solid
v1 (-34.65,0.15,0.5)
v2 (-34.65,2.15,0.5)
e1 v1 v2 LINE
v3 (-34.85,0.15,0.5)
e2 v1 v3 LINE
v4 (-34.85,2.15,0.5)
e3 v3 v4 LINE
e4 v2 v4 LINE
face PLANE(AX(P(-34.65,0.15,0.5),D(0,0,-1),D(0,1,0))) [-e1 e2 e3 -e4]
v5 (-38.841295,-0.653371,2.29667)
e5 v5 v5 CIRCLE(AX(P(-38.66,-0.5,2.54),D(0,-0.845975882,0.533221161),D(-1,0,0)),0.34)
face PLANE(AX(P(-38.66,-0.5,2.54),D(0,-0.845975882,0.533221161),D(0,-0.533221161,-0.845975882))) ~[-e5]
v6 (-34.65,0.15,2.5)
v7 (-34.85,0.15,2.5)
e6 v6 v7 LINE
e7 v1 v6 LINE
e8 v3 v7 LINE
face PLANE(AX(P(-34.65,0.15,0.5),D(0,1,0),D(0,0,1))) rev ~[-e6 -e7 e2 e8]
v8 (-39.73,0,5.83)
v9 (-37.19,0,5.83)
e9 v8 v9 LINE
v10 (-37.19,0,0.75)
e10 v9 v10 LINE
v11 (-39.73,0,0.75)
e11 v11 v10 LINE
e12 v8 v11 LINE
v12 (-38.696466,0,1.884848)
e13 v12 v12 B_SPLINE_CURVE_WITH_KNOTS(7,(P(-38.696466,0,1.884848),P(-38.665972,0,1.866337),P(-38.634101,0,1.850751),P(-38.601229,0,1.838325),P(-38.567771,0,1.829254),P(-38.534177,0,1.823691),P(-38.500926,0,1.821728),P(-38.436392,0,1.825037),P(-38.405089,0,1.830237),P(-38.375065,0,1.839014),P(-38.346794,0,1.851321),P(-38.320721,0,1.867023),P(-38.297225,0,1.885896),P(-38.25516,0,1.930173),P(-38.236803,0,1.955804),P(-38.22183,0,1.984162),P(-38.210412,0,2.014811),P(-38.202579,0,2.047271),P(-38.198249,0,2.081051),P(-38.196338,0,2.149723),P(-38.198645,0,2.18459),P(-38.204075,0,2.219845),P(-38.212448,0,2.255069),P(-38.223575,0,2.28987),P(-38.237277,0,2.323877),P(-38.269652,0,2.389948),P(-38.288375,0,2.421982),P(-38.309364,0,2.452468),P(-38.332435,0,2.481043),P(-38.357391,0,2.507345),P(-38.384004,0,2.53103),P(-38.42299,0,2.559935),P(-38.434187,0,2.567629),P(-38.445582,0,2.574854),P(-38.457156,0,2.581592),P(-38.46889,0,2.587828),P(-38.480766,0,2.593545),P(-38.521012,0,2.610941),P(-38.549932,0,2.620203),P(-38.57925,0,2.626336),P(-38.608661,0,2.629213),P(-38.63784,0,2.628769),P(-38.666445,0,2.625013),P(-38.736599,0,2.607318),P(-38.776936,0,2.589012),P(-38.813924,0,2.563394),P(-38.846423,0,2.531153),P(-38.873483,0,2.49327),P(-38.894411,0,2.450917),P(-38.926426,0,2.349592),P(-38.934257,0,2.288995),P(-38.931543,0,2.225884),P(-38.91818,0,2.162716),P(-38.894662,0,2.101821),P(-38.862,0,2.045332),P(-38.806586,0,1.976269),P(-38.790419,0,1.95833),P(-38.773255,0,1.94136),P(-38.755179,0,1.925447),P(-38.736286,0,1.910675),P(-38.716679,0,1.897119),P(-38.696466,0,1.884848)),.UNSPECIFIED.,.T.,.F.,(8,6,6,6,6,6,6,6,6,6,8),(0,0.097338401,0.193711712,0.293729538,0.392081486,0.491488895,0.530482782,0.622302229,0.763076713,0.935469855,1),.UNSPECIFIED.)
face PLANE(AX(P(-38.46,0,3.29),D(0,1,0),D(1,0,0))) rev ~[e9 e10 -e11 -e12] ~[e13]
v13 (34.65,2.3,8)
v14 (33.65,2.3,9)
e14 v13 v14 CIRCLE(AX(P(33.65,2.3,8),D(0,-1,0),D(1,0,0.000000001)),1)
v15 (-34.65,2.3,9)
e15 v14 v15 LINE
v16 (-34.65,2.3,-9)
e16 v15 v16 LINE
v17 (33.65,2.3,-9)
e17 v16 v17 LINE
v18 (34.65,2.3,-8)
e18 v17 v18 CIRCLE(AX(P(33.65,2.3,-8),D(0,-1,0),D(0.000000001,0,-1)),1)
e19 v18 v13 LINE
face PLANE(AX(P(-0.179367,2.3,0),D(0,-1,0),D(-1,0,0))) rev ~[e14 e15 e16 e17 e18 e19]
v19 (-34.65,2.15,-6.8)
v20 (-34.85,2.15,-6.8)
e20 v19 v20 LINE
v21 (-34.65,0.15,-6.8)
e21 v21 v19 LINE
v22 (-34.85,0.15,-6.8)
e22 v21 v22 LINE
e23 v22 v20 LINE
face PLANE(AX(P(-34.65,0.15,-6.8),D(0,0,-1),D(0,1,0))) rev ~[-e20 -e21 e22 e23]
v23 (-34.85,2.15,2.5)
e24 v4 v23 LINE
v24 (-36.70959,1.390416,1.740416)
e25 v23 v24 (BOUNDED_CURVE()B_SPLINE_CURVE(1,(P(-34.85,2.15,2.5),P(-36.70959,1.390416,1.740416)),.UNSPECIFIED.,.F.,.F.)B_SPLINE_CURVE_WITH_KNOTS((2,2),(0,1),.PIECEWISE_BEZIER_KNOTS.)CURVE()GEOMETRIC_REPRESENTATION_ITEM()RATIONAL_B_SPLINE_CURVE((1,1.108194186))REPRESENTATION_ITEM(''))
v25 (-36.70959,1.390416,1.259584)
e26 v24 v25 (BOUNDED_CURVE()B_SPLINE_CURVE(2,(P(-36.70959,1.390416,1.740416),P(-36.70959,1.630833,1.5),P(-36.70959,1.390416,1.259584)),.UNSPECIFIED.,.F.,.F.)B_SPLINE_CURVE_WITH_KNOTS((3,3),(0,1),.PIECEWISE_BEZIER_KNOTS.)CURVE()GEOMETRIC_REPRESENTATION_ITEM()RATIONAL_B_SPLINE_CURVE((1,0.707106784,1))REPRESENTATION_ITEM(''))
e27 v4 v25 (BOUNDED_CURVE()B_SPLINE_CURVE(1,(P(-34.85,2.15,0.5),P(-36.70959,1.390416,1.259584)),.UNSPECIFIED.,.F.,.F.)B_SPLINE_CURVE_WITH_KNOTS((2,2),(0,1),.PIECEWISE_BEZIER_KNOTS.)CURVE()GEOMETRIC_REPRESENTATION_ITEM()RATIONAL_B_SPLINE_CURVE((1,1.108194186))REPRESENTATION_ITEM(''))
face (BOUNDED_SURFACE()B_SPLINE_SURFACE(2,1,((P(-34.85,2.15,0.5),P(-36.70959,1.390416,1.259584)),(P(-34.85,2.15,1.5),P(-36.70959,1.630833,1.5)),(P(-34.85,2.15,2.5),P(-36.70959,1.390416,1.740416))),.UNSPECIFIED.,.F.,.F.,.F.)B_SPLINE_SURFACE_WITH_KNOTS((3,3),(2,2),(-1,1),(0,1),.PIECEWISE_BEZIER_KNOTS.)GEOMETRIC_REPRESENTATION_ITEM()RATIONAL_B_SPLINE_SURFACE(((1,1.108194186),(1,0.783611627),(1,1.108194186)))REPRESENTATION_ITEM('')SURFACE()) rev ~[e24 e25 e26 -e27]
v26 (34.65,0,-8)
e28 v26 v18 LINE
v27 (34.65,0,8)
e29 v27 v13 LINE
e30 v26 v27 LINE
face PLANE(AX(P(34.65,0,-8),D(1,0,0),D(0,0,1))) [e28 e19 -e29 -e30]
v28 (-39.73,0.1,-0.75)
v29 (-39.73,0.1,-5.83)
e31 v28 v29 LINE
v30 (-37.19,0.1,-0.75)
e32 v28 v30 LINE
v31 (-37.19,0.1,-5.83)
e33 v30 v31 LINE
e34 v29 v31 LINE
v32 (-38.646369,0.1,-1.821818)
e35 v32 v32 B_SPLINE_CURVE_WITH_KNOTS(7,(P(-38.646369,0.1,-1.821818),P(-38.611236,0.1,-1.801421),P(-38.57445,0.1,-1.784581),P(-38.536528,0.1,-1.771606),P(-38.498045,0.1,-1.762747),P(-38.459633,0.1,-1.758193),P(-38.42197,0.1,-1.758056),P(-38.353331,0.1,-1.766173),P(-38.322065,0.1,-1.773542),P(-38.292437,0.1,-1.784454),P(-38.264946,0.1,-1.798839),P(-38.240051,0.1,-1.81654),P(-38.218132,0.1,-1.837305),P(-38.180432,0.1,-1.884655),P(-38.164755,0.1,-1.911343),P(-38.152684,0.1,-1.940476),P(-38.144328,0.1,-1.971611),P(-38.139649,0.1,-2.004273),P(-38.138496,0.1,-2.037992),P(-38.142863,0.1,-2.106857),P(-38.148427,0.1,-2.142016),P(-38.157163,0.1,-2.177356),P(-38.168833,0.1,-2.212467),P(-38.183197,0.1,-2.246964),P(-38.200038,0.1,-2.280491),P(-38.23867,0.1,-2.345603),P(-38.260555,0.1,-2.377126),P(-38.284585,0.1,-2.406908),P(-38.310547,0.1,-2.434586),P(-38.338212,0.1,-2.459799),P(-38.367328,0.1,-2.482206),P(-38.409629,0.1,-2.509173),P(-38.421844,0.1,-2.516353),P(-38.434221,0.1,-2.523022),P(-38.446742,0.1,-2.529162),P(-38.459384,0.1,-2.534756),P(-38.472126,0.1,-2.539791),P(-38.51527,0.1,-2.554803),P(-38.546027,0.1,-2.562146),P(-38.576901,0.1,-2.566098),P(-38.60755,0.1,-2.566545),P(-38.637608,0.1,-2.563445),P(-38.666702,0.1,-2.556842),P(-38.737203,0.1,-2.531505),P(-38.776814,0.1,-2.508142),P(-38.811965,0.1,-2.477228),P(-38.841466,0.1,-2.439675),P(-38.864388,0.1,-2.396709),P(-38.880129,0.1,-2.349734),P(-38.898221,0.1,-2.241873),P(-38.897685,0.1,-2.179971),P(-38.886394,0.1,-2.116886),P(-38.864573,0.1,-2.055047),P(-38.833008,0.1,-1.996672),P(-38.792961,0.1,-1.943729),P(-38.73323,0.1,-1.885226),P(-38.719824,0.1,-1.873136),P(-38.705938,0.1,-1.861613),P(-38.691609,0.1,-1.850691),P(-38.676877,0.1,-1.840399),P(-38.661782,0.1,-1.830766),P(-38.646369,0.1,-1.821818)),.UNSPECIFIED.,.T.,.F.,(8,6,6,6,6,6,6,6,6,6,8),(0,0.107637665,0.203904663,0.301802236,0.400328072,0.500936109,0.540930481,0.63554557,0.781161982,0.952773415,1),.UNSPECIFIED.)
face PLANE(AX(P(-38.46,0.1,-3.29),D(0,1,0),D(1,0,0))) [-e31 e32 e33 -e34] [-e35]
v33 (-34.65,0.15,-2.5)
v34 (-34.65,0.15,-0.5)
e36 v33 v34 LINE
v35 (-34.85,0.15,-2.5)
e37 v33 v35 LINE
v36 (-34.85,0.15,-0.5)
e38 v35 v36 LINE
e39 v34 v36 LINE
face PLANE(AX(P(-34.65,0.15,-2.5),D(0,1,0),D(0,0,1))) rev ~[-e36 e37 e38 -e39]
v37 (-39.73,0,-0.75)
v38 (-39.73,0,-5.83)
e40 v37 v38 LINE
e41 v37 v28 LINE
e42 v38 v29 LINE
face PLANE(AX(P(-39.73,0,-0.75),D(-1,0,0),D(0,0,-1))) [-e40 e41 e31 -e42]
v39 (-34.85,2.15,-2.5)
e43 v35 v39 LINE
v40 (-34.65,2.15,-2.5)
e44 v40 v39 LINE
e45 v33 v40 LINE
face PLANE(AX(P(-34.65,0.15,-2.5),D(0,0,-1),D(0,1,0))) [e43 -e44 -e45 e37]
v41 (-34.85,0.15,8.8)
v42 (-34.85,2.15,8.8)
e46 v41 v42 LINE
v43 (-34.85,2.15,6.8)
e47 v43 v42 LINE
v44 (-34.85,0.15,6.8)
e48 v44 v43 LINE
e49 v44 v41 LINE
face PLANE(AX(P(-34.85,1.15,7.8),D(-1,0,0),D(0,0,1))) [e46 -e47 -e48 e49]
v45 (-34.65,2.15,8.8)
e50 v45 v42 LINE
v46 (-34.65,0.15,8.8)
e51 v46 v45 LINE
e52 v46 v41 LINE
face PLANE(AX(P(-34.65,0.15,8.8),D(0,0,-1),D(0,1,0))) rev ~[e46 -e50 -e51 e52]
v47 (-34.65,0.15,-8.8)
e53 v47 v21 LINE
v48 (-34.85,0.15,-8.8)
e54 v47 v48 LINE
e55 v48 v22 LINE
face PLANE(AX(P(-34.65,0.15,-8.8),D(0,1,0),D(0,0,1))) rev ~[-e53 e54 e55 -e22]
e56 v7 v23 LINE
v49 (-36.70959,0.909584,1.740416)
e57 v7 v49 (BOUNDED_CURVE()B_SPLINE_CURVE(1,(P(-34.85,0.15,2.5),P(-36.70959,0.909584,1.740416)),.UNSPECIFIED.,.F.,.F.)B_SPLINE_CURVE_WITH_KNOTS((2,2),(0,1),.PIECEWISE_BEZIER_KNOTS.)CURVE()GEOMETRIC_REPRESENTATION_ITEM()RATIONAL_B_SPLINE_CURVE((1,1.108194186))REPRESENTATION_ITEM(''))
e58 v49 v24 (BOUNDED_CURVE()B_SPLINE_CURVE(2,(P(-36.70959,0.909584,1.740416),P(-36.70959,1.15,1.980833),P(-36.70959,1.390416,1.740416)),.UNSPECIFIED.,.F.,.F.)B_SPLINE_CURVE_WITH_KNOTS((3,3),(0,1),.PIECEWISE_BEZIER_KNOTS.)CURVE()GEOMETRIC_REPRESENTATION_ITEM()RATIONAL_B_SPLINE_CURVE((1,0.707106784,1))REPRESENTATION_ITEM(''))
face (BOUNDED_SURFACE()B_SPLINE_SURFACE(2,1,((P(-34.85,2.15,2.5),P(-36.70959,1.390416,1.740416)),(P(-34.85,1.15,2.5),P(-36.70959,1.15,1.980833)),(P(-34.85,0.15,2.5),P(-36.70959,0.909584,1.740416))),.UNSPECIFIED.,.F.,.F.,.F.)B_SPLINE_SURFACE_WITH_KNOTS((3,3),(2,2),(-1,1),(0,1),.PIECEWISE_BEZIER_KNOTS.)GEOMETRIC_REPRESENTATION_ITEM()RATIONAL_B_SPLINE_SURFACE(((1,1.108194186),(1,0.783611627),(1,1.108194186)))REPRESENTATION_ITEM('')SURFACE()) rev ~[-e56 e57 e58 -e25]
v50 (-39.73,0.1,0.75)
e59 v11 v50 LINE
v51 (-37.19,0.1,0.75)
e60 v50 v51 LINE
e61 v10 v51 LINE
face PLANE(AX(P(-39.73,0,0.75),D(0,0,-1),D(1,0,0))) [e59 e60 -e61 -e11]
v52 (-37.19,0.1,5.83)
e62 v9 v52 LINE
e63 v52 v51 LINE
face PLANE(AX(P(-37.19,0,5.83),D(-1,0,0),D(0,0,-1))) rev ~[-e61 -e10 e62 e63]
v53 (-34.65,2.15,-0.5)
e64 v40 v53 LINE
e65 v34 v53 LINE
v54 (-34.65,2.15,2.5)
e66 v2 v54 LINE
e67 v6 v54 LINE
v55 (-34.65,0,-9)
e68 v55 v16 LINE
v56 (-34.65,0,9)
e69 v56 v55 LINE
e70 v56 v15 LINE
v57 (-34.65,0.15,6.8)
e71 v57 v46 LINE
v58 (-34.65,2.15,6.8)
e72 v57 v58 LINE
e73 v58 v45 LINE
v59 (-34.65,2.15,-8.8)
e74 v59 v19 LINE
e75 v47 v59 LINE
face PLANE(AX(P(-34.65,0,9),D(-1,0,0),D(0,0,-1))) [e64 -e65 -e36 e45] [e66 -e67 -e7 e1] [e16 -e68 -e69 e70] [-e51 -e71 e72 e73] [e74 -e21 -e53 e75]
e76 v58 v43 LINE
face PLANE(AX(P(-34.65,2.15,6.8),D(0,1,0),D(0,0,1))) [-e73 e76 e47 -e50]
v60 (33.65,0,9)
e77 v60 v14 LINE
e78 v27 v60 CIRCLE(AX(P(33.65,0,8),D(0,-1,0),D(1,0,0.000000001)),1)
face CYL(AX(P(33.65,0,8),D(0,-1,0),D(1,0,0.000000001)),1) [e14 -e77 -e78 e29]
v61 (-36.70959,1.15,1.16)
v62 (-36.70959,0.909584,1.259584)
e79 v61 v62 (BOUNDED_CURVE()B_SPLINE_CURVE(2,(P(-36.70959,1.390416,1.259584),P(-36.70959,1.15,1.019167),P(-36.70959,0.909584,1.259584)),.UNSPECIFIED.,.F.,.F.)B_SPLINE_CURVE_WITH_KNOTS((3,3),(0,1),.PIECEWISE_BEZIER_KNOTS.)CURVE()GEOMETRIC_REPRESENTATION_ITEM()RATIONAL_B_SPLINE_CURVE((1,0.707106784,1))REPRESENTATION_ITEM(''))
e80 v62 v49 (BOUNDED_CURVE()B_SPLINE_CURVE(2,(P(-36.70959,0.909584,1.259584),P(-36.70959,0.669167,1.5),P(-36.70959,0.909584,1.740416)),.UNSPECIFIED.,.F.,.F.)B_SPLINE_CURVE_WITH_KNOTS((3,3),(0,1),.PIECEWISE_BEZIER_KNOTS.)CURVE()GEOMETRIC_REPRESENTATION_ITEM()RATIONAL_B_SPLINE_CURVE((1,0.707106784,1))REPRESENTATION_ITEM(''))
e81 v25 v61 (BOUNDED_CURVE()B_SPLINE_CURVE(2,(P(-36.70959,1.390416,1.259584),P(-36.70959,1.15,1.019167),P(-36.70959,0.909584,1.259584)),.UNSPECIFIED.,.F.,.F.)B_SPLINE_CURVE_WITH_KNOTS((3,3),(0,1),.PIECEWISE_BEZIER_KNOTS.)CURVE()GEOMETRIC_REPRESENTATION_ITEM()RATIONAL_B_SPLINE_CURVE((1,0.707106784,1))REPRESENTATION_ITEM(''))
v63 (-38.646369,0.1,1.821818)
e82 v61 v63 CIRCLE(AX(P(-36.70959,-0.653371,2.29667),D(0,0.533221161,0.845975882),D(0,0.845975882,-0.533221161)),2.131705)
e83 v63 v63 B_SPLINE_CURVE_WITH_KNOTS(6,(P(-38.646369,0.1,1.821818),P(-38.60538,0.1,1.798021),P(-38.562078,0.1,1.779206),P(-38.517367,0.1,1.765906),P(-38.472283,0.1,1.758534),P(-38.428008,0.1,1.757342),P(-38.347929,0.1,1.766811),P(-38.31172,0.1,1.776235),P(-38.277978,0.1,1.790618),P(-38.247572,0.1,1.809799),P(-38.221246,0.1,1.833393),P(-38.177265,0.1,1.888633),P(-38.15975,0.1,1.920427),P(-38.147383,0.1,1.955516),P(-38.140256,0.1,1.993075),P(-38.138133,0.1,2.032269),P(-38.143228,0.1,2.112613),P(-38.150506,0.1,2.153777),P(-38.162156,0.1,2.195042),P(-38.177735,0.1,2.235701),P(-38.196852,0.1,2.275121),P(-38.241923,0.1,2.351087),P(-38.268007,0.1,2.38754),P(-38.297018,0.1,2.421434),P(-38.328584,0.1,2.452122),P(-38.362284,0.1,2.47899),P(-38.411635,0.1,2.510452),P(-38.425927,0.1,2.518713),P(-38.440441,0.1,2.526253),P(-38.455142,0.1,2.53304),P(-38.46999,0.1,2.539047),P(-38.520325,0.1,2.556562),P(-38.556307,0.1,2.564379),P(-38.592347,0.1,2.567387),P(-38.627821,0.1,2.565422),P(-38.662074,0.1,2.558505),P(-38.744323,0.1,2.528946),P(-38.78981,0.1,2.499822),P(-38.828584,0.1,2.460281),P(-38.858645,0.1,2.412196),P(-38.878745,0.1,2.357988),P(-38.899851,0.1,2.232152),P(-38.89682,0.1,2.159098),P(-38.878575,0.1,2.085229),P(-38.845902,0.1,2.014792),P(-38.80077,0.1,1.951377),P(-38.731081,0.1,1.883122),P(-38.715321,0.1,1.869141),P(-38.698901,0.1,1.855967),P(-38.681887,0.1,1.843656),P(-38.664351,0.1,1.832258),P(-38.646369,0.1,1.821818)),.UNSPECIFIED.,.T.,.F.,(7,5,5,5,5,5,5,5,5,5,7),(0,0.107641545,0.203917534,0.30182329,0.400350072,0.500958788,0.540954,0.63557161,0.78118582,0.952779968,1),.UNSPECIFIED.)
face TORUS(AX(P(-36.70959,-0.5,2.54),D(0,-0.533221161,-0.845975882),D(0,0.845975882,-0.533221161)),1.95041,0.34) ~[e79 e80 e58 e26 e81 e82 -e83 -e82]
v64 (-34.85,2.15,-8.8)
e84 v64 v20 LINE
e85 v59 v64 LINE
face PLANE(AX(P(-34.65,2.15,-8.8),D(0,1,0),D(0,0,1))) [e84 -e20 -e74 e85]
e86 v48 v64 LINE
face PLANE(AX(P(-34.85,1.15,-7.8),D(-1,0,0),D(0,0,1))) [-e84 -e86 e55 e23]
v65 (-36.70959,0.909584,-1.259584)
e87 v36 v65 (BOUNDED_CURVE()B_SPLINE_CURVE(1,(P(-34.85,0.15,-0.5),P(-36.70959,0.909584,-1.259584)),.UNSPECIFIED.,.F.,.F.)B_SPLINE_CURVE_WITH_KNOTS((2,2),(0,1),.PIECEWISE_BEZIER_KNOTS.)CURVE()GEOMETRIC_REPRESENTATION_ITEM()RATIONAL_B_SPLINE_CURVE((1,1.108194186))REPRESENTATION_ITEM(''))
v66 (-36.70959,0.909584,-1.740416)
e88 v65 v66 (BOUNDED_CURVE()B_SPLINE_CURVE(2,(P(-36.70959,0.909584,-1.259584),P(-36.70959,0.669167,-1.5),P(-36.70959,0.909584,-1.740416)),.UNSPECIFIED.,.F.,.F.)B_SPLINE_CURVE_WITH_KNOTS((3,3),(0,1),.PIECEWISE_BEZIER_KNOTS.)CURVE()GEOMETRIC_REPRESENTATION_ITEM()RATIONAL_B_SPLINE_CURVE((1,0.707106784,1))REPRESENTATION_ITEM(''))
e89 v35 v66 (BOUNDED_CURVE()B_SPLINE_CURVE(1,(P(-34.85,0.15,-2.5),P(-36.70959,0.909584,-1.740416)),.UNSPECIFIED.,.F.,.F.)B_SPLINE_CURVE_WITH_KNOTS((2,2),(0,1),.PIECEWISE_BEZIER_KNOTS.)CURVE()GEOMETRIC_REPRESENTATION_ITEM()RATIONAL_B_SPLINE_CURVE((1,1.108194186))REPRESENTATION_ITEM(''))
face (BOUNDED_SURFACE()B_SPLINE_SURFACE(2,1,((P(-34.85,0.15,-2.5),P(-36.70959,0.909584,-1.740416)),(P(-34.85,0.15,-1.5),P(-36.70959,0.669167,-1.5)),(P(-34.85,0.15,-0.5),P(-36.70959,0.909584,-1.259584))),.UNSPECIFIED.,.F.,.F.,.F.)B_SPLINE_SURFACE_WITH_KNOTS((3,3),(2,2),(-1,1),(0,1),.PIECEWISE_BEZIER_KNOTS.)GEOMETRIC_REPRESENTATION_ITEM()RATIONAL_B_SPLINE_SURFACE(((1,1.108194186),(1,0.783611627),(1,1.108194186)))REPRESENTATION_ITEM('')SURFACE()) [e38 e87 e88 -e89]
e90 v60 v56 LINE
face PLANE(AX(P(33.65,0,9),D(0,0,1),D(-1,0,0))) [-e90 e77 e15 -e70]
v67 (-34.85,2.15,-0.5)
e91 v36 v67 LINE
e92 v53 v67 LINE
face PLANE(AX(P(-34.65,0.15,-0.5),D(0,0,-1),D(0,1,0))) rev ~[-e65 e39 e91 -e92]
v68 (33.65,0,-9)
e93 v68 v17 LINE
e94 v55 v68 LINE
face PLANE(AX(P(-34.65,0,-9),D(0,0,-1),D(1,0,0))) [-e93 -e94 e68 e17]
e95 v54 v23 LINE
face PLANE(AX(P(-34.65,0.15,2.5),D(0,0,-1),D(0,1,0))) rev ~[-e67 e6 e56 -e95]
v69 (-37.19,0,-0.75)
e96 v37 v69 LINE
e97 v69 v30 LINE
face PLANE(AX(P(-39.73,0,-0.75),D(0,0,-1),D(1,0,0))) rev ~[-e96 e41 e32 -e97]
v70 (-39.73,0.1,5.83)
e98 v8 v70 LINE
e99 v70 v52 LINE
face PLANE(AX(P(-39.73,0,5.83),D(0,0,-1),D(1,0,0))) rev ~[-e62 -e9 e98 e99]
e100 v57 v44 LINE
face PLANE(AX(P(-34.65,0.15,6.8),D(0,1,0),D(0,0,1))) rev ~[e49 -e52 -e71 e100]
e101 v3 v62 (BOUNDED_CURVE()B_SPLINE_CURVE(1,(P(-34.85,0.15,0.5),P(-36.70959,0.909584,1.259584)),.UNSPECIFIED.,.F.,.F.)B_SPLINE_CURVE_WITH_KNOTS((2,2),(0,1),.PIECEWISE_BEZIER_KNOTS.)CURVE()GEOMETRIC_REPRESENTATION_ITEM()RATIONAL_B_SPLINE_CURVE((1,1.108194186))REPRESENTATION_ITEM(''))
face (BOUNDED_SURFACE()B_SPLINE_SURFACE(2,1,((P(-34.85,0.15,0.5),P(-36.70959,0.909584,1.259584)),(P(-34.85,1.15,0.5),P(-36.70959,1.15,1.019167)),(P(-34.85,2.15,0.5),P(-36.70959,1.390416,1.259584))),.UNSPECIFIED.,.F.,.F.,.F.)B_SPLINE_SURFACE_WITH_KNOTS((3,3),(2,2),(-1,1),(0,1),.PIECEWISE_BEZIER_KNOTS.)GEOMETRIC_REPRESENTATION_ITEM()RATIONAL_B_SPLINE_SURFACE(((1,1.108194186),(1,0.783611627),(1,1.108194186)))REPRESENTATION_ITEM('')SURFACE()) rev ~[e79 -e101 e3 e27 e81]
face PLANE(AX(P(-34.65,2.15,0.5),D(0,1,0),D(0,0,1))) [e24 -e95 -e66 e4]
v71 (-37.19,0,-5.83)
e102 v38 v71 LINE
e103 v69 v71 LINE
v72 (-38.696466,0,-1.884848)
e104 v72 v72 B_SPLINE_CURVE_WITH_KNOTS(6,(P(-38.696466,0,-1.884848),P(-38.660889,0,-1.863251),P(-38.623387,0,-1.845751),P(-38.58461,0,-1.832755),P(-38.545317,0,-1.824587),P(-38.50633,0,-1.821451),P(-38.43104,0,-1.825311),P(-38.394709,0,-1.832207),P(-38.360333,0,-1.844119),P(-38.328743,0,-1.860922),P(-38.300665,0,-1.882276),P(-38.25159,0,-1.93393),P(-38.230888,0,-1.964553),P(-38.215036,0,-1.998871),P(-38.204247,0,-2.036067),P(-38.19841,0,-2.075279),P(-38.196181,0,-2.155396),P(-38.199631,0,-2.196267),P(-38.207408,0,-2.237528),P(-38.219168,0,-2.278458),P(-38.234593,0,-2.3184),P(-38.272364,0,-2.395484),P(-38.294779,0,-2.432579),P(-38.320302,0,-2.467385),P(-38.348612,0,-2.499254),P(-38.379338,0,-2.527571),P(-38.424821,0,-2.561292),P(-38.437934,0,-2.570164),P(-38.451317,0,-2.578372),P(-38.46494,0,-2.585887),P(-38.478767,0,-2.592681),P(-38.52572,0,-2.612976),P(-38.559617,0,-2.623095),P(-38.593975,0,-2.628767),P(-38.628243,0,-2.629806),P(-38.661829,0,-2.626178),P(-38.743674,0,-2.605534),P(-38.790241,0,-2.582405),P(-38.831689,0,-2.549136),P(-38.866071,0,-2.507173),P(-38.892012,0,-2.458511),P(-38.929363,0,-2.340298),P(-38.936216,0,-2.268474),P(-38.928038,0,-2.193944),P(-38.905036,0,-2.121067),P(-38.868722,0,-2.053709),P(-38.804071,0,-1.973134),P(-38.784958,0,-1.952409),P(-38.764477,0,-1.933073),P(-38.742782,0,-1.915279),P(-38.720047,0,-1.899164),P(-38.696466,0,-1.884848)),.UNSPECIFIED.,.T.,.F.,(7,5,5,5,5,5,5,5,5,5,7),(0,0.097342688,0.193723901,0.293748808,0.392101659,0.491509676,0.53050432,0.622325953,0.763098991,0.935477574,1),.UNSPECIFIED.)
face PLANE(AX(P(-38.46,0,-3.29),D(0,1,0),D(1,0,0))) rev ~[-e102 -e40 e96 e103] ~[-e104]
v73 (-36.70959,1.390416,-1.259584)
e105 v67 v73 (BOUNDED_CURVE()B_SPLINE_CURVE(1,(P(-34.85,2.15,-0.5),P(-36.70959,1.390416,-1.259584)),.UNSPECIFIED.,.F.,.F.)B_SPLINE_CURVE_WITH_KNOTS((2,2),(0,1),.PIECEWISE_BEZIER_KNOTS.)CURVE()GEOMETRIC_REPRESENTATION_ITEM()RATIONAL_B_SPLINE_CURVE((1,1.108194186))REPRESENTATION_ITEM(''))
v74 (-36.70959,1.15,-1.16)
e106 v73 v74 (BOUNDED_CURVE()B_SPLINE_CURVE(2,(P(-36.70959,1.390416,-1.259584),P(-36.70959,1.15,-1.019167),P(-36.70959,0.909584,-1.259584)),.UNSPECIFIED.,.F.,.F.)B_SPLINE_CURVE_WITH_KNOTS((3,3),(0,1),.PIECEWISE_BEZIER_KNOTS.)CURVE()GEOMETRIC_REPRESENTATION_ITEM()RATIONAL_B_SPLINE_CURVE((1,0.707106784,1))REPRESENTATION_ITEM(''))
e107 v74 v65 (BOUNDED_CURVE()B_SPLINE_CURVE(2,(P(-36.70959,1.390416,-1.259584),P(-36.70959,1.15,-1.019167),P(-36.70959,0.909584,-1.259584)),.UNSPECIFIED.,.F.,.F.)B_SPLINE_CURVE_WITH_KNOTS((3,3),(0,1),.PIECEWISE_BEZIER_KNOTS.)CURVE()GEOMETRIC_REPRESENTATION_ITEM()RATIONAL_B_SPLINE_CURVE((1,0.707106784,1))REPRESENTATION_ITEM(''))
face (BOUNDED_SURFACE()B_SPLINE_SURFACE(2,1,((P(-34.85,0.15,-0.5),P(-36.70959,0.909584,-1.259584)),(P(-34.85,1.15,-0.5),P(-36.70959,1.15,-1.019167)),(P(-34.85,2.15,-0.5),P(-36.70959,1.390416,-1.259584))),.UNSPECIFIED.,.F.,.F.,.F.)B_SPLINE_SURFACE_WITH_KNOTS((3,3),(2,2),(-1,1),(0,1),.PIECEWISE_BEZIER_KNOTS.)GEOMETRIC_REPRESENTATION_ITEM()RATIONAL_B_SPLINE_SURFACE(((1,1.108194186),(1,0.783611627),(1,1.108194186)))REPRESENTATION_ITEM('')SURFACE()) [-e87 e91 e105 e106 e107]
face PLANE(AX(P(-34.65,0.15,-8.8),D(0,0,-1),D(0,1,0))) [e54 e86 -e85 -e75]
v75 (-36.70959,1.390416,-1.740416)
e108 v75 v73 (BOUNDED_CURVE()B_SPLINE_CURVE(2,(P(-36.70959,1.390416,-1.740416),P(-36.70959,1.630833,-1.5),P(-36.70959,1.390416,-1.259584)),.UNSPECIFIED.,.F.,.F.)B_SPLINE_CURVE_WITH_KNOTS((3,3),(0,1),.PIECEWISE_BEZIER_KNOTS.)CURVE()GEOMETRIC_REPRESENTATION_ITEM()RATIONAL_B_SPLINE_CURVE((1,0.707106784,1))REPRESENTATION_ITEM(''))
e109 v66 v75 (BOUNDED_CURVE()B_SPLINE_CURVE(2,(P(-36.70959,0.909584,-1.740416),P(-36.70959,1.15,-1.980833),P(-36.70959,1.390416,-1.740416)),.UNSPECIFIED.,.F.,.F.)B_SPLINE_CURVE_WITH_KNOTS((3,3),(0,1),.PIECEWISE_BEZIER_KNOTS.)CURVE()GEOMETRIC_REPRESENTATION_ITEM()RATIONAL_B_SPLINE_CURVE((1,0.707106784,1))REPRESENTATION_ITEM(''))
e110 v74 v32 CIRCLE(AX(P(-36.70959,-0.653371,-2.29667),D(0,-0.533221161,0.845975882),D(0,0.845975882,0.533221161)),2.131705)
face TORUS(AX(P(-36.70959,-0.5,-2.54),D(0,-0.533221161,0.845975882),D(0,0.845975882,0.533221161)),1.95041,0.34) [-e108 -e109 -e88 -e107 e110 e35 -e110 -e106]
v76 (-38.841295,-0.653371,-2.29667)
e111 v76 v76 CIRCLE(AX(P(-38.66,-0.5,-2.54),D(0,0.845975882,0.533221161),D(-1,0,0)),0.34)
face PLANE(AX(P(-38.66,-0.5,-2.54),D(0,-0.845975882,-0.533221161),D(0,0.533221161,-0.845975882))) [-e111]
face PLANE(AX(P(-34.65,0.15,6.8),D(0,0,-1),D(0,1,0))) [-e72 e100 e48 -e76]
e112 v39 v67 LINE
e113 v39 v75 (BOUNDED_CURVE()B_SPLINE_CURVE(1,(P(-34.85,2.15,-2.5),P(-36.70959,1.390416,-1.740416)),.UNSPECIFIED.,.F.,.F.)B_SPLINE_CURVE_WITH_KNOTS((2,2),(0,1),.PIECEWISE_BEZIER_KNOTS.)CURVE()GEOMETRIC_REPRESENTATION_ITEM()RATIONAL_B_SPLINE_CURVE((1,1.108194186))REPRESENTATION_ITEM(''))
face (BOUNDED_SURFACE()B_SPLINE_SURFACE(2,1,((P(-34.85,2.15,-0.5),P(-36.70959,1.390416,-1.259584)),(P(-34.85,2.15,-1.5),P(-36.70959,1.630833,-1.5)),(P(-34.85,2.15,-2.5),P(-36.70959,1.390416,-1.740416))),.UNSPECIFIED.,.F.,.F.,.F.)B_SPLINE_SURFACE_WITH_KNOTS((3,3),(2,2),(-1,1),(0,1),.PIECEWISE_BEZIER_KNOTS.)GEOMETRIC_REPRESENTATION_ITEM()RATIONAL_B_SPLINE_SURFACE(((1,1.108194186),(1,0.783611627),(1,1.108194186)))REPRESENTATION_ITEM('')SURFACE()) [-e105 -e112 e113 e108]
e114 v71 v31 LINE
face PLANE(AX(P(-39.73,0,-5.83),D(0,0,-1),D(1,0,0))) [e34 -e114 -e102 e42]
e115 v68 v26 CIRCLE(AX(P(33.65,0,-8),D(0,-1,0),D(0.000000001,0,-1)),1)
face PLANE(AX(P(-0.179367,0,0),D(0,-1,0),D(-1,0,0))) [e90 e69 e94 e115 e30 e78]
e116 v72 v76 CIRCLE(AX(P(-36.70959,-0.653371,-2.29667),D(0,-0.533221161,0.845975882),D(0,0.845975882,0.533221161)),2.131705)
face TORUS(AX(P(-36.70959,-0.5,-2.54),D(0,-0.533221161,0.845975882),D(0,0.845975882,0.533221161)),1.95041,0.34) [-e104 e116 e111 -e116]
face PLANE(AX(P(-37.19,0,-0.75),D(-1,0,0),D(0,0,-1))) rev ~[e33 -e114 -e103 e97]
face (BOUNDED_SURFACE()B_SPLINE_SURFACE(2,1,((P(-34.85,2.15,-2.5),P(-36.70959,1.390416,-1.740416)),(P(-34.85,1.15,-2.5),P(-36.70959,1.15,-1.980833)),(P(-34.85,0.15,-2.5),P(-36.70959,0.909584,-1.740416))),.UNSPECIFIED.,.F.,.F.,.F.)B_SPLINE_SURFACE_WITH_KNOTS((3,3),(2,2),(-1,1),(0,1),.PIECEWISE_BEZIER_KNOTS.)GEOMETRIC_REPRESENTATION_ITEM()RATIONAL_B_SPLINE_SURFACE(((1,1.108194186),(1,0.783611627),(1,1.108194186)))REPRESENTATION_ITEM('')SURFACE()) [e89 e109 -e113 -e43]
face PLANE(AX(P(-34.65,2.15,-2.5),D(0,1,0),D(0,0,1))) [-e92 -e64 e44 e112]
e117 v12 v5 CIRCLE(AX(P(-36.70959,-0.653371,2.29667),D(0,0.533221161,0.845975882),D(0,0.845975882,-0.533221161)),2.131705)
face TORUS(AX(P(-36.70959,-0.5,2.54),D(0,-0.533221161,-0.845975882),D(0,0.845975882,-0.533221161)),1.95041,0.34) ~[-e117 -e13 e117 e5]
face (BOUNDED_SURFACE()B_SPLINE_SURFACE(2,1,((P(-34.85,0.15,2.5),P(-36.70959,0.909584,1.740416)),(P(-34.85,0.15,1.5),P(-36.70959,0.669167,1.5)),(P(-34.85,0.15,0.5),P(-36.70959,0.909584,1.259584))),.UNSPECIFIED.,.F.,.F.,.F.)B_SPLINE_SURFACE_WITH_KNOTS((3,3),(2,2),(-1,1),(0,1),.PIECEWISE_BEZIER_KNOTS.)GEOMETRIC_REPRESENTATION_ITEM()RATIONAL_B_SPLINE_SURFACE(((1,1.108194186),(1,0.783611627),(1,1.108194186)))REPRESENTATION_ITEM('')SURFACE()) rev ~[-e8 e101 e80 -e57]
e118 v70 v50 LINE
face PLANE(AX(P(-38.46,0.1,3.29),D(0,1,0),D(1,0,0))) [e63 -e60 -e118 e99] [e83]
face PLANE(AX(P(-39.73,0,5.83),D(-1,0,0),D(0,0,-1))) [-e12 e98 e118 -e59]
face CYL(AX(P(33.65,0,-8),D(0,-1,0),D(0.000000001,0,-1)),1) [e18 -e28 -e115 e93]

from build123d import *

# Parameters (mm, degrees)
BOSS_EXTRUDE1_DEPTH = 2.3
SKETCH2_W           = 2
SKETCH2_H           = 2
BOSS_EXTRUDE2_DEPTH = 0.2
SKETCH6_W           = 2
SKETCH6_H           = 2
SKETCH4_R           = 0.34
SKETCH7_W           = 2.54
SKETCH7_H           = 5.08
BOSS_EXTRUDE3_DEPTH = 0.1


with BuildPart() as part:
    # Sketch1 → Boss-Extrude1 (new body)
    with BuildSketch(Plane(origin=(0, 0, 0), x_dir=(1, 0, 0), z_dir=(0, 1, 0))):
        with BuildLine():
            Line((-34.65, 9), (33.65, 9))
            ThreePointArc((33.65, 9), (34.357106781, 8.707106781), (34.65, 8))
            Line((34.65, 8), (34.65, -8))
            ThreePointArc((34.65, -8), (34.357106781, -8.707106781), (33.65, -9))
            Line((33.65, -9), (-34.65, -9))
            Line((-34.65, -9), (-34.65, 9))
        make_face()
    extrude(amount=BOSS_EXTRUDE1_DEPTH)

    # Sketch2 → Boss-Extrude2 (add)
    with BuildSketch(Plane.ZY.offset(34.65)):
        with Locations((-7.8, 1.15)):
            Rectangle(SKETCH2_W, SKETCH2_H)
        with Locations((-1.5, 1.15)):
            Rectangle(SKETCH2_W, SKETCH2_H)
        with Locations((1.5, 1.15)):
            Rectangle(SKETCH2_W, SKETCH2_H)
        with Locations((7.8, 1.15)):
            Rectangle(SKETCH2_W, SKETCH2_H)
    extrude(amount=BOSS_EXTRUDE2_DEPTH)

    # Sketch6 → Loft1 section 0
    with BuildSketch(Plane.ZY.offset(34.85)):
        with Locations((-1.5, 1.15)):
            Rectangle(SKETCH6_W, SKETCH6_H)
    # Sketch5 for Loft1 → Loft1 section 1
    with BuildSketch(Plane(origin=(-36.709589787, 1.15, -1.5), x_dir=(0, 0, 1), z_dir=(-1, 0, 0))):
        with BuildLine():
            # circular arc as an exact rational Bezier (weights 1, cos(half-angle), 1)
            Bezier((-0.240416306, 0.240416306), (0, 0.48083261), (0.240416306, 0.240416306), weights=[1, 0.707106784, 1])
            Bezier((0.240416306, 0.240416306), (0.48083261, 0), (0.240416306, -0.240416306), weights=[1, 0.707106784, 1])
            Bezier((0.240416306, -0.240416306), (0, -0.48083261), (-0.240416306, -0.240416306), weights=[1, 0.707106784, 1])
            Bezier((-0.240416306, -0.240416306), (-0.48083261, 0), (-0.240416306, 0.240416306), weights=[1, 0.707106784, 1])
        make_face()
    loft1 = loft()

    # Sweep2: sweep along a curve in space
    with BuildLine() as sweep2_path:
        Line((-34.85, 1.15, -1.5), (-36.709589787, 1.15, -1.5))
        ThreePointArc((-36.709589787, 1.15, -1.5), (-38.088738075, 0.666726189, -1.804608948), (-38.66, -0.5, -2.54))
    # Sketch4 → Sweep2 (sweep)
    with BuildSketch(Plane.ZY.offset(34.85)):
        with Locations((-1.5, 1.15)):
            Circle(SKETCH4_R)
    sweep2 = sweep(path=sweep2_path.line)

    # Mirror4: Loft1, Sweep2 across plane
    add(loft1.mirror(Plane.XY))
    add(sweep2.mirror(Plane.XY))

    # Sketch7 → Boss-Extrude3 (add)
    with BuildSketch(Plane(origin=(0, 0, 0), x_dir=(1, 0, 0), z_dir=(0, 1, 0))):
        with Locations((-38.46, 3.29)):
            Rectangle(SKETCH7_W, SKETCH7_H)
        with Locations((-38.46, -3.29)):
            Rectangle(SKETCH7_W, SKETCH7_H)
    extrude(amount=BOSS_EXTRUDE3_DEPTH)


solid = part.part
